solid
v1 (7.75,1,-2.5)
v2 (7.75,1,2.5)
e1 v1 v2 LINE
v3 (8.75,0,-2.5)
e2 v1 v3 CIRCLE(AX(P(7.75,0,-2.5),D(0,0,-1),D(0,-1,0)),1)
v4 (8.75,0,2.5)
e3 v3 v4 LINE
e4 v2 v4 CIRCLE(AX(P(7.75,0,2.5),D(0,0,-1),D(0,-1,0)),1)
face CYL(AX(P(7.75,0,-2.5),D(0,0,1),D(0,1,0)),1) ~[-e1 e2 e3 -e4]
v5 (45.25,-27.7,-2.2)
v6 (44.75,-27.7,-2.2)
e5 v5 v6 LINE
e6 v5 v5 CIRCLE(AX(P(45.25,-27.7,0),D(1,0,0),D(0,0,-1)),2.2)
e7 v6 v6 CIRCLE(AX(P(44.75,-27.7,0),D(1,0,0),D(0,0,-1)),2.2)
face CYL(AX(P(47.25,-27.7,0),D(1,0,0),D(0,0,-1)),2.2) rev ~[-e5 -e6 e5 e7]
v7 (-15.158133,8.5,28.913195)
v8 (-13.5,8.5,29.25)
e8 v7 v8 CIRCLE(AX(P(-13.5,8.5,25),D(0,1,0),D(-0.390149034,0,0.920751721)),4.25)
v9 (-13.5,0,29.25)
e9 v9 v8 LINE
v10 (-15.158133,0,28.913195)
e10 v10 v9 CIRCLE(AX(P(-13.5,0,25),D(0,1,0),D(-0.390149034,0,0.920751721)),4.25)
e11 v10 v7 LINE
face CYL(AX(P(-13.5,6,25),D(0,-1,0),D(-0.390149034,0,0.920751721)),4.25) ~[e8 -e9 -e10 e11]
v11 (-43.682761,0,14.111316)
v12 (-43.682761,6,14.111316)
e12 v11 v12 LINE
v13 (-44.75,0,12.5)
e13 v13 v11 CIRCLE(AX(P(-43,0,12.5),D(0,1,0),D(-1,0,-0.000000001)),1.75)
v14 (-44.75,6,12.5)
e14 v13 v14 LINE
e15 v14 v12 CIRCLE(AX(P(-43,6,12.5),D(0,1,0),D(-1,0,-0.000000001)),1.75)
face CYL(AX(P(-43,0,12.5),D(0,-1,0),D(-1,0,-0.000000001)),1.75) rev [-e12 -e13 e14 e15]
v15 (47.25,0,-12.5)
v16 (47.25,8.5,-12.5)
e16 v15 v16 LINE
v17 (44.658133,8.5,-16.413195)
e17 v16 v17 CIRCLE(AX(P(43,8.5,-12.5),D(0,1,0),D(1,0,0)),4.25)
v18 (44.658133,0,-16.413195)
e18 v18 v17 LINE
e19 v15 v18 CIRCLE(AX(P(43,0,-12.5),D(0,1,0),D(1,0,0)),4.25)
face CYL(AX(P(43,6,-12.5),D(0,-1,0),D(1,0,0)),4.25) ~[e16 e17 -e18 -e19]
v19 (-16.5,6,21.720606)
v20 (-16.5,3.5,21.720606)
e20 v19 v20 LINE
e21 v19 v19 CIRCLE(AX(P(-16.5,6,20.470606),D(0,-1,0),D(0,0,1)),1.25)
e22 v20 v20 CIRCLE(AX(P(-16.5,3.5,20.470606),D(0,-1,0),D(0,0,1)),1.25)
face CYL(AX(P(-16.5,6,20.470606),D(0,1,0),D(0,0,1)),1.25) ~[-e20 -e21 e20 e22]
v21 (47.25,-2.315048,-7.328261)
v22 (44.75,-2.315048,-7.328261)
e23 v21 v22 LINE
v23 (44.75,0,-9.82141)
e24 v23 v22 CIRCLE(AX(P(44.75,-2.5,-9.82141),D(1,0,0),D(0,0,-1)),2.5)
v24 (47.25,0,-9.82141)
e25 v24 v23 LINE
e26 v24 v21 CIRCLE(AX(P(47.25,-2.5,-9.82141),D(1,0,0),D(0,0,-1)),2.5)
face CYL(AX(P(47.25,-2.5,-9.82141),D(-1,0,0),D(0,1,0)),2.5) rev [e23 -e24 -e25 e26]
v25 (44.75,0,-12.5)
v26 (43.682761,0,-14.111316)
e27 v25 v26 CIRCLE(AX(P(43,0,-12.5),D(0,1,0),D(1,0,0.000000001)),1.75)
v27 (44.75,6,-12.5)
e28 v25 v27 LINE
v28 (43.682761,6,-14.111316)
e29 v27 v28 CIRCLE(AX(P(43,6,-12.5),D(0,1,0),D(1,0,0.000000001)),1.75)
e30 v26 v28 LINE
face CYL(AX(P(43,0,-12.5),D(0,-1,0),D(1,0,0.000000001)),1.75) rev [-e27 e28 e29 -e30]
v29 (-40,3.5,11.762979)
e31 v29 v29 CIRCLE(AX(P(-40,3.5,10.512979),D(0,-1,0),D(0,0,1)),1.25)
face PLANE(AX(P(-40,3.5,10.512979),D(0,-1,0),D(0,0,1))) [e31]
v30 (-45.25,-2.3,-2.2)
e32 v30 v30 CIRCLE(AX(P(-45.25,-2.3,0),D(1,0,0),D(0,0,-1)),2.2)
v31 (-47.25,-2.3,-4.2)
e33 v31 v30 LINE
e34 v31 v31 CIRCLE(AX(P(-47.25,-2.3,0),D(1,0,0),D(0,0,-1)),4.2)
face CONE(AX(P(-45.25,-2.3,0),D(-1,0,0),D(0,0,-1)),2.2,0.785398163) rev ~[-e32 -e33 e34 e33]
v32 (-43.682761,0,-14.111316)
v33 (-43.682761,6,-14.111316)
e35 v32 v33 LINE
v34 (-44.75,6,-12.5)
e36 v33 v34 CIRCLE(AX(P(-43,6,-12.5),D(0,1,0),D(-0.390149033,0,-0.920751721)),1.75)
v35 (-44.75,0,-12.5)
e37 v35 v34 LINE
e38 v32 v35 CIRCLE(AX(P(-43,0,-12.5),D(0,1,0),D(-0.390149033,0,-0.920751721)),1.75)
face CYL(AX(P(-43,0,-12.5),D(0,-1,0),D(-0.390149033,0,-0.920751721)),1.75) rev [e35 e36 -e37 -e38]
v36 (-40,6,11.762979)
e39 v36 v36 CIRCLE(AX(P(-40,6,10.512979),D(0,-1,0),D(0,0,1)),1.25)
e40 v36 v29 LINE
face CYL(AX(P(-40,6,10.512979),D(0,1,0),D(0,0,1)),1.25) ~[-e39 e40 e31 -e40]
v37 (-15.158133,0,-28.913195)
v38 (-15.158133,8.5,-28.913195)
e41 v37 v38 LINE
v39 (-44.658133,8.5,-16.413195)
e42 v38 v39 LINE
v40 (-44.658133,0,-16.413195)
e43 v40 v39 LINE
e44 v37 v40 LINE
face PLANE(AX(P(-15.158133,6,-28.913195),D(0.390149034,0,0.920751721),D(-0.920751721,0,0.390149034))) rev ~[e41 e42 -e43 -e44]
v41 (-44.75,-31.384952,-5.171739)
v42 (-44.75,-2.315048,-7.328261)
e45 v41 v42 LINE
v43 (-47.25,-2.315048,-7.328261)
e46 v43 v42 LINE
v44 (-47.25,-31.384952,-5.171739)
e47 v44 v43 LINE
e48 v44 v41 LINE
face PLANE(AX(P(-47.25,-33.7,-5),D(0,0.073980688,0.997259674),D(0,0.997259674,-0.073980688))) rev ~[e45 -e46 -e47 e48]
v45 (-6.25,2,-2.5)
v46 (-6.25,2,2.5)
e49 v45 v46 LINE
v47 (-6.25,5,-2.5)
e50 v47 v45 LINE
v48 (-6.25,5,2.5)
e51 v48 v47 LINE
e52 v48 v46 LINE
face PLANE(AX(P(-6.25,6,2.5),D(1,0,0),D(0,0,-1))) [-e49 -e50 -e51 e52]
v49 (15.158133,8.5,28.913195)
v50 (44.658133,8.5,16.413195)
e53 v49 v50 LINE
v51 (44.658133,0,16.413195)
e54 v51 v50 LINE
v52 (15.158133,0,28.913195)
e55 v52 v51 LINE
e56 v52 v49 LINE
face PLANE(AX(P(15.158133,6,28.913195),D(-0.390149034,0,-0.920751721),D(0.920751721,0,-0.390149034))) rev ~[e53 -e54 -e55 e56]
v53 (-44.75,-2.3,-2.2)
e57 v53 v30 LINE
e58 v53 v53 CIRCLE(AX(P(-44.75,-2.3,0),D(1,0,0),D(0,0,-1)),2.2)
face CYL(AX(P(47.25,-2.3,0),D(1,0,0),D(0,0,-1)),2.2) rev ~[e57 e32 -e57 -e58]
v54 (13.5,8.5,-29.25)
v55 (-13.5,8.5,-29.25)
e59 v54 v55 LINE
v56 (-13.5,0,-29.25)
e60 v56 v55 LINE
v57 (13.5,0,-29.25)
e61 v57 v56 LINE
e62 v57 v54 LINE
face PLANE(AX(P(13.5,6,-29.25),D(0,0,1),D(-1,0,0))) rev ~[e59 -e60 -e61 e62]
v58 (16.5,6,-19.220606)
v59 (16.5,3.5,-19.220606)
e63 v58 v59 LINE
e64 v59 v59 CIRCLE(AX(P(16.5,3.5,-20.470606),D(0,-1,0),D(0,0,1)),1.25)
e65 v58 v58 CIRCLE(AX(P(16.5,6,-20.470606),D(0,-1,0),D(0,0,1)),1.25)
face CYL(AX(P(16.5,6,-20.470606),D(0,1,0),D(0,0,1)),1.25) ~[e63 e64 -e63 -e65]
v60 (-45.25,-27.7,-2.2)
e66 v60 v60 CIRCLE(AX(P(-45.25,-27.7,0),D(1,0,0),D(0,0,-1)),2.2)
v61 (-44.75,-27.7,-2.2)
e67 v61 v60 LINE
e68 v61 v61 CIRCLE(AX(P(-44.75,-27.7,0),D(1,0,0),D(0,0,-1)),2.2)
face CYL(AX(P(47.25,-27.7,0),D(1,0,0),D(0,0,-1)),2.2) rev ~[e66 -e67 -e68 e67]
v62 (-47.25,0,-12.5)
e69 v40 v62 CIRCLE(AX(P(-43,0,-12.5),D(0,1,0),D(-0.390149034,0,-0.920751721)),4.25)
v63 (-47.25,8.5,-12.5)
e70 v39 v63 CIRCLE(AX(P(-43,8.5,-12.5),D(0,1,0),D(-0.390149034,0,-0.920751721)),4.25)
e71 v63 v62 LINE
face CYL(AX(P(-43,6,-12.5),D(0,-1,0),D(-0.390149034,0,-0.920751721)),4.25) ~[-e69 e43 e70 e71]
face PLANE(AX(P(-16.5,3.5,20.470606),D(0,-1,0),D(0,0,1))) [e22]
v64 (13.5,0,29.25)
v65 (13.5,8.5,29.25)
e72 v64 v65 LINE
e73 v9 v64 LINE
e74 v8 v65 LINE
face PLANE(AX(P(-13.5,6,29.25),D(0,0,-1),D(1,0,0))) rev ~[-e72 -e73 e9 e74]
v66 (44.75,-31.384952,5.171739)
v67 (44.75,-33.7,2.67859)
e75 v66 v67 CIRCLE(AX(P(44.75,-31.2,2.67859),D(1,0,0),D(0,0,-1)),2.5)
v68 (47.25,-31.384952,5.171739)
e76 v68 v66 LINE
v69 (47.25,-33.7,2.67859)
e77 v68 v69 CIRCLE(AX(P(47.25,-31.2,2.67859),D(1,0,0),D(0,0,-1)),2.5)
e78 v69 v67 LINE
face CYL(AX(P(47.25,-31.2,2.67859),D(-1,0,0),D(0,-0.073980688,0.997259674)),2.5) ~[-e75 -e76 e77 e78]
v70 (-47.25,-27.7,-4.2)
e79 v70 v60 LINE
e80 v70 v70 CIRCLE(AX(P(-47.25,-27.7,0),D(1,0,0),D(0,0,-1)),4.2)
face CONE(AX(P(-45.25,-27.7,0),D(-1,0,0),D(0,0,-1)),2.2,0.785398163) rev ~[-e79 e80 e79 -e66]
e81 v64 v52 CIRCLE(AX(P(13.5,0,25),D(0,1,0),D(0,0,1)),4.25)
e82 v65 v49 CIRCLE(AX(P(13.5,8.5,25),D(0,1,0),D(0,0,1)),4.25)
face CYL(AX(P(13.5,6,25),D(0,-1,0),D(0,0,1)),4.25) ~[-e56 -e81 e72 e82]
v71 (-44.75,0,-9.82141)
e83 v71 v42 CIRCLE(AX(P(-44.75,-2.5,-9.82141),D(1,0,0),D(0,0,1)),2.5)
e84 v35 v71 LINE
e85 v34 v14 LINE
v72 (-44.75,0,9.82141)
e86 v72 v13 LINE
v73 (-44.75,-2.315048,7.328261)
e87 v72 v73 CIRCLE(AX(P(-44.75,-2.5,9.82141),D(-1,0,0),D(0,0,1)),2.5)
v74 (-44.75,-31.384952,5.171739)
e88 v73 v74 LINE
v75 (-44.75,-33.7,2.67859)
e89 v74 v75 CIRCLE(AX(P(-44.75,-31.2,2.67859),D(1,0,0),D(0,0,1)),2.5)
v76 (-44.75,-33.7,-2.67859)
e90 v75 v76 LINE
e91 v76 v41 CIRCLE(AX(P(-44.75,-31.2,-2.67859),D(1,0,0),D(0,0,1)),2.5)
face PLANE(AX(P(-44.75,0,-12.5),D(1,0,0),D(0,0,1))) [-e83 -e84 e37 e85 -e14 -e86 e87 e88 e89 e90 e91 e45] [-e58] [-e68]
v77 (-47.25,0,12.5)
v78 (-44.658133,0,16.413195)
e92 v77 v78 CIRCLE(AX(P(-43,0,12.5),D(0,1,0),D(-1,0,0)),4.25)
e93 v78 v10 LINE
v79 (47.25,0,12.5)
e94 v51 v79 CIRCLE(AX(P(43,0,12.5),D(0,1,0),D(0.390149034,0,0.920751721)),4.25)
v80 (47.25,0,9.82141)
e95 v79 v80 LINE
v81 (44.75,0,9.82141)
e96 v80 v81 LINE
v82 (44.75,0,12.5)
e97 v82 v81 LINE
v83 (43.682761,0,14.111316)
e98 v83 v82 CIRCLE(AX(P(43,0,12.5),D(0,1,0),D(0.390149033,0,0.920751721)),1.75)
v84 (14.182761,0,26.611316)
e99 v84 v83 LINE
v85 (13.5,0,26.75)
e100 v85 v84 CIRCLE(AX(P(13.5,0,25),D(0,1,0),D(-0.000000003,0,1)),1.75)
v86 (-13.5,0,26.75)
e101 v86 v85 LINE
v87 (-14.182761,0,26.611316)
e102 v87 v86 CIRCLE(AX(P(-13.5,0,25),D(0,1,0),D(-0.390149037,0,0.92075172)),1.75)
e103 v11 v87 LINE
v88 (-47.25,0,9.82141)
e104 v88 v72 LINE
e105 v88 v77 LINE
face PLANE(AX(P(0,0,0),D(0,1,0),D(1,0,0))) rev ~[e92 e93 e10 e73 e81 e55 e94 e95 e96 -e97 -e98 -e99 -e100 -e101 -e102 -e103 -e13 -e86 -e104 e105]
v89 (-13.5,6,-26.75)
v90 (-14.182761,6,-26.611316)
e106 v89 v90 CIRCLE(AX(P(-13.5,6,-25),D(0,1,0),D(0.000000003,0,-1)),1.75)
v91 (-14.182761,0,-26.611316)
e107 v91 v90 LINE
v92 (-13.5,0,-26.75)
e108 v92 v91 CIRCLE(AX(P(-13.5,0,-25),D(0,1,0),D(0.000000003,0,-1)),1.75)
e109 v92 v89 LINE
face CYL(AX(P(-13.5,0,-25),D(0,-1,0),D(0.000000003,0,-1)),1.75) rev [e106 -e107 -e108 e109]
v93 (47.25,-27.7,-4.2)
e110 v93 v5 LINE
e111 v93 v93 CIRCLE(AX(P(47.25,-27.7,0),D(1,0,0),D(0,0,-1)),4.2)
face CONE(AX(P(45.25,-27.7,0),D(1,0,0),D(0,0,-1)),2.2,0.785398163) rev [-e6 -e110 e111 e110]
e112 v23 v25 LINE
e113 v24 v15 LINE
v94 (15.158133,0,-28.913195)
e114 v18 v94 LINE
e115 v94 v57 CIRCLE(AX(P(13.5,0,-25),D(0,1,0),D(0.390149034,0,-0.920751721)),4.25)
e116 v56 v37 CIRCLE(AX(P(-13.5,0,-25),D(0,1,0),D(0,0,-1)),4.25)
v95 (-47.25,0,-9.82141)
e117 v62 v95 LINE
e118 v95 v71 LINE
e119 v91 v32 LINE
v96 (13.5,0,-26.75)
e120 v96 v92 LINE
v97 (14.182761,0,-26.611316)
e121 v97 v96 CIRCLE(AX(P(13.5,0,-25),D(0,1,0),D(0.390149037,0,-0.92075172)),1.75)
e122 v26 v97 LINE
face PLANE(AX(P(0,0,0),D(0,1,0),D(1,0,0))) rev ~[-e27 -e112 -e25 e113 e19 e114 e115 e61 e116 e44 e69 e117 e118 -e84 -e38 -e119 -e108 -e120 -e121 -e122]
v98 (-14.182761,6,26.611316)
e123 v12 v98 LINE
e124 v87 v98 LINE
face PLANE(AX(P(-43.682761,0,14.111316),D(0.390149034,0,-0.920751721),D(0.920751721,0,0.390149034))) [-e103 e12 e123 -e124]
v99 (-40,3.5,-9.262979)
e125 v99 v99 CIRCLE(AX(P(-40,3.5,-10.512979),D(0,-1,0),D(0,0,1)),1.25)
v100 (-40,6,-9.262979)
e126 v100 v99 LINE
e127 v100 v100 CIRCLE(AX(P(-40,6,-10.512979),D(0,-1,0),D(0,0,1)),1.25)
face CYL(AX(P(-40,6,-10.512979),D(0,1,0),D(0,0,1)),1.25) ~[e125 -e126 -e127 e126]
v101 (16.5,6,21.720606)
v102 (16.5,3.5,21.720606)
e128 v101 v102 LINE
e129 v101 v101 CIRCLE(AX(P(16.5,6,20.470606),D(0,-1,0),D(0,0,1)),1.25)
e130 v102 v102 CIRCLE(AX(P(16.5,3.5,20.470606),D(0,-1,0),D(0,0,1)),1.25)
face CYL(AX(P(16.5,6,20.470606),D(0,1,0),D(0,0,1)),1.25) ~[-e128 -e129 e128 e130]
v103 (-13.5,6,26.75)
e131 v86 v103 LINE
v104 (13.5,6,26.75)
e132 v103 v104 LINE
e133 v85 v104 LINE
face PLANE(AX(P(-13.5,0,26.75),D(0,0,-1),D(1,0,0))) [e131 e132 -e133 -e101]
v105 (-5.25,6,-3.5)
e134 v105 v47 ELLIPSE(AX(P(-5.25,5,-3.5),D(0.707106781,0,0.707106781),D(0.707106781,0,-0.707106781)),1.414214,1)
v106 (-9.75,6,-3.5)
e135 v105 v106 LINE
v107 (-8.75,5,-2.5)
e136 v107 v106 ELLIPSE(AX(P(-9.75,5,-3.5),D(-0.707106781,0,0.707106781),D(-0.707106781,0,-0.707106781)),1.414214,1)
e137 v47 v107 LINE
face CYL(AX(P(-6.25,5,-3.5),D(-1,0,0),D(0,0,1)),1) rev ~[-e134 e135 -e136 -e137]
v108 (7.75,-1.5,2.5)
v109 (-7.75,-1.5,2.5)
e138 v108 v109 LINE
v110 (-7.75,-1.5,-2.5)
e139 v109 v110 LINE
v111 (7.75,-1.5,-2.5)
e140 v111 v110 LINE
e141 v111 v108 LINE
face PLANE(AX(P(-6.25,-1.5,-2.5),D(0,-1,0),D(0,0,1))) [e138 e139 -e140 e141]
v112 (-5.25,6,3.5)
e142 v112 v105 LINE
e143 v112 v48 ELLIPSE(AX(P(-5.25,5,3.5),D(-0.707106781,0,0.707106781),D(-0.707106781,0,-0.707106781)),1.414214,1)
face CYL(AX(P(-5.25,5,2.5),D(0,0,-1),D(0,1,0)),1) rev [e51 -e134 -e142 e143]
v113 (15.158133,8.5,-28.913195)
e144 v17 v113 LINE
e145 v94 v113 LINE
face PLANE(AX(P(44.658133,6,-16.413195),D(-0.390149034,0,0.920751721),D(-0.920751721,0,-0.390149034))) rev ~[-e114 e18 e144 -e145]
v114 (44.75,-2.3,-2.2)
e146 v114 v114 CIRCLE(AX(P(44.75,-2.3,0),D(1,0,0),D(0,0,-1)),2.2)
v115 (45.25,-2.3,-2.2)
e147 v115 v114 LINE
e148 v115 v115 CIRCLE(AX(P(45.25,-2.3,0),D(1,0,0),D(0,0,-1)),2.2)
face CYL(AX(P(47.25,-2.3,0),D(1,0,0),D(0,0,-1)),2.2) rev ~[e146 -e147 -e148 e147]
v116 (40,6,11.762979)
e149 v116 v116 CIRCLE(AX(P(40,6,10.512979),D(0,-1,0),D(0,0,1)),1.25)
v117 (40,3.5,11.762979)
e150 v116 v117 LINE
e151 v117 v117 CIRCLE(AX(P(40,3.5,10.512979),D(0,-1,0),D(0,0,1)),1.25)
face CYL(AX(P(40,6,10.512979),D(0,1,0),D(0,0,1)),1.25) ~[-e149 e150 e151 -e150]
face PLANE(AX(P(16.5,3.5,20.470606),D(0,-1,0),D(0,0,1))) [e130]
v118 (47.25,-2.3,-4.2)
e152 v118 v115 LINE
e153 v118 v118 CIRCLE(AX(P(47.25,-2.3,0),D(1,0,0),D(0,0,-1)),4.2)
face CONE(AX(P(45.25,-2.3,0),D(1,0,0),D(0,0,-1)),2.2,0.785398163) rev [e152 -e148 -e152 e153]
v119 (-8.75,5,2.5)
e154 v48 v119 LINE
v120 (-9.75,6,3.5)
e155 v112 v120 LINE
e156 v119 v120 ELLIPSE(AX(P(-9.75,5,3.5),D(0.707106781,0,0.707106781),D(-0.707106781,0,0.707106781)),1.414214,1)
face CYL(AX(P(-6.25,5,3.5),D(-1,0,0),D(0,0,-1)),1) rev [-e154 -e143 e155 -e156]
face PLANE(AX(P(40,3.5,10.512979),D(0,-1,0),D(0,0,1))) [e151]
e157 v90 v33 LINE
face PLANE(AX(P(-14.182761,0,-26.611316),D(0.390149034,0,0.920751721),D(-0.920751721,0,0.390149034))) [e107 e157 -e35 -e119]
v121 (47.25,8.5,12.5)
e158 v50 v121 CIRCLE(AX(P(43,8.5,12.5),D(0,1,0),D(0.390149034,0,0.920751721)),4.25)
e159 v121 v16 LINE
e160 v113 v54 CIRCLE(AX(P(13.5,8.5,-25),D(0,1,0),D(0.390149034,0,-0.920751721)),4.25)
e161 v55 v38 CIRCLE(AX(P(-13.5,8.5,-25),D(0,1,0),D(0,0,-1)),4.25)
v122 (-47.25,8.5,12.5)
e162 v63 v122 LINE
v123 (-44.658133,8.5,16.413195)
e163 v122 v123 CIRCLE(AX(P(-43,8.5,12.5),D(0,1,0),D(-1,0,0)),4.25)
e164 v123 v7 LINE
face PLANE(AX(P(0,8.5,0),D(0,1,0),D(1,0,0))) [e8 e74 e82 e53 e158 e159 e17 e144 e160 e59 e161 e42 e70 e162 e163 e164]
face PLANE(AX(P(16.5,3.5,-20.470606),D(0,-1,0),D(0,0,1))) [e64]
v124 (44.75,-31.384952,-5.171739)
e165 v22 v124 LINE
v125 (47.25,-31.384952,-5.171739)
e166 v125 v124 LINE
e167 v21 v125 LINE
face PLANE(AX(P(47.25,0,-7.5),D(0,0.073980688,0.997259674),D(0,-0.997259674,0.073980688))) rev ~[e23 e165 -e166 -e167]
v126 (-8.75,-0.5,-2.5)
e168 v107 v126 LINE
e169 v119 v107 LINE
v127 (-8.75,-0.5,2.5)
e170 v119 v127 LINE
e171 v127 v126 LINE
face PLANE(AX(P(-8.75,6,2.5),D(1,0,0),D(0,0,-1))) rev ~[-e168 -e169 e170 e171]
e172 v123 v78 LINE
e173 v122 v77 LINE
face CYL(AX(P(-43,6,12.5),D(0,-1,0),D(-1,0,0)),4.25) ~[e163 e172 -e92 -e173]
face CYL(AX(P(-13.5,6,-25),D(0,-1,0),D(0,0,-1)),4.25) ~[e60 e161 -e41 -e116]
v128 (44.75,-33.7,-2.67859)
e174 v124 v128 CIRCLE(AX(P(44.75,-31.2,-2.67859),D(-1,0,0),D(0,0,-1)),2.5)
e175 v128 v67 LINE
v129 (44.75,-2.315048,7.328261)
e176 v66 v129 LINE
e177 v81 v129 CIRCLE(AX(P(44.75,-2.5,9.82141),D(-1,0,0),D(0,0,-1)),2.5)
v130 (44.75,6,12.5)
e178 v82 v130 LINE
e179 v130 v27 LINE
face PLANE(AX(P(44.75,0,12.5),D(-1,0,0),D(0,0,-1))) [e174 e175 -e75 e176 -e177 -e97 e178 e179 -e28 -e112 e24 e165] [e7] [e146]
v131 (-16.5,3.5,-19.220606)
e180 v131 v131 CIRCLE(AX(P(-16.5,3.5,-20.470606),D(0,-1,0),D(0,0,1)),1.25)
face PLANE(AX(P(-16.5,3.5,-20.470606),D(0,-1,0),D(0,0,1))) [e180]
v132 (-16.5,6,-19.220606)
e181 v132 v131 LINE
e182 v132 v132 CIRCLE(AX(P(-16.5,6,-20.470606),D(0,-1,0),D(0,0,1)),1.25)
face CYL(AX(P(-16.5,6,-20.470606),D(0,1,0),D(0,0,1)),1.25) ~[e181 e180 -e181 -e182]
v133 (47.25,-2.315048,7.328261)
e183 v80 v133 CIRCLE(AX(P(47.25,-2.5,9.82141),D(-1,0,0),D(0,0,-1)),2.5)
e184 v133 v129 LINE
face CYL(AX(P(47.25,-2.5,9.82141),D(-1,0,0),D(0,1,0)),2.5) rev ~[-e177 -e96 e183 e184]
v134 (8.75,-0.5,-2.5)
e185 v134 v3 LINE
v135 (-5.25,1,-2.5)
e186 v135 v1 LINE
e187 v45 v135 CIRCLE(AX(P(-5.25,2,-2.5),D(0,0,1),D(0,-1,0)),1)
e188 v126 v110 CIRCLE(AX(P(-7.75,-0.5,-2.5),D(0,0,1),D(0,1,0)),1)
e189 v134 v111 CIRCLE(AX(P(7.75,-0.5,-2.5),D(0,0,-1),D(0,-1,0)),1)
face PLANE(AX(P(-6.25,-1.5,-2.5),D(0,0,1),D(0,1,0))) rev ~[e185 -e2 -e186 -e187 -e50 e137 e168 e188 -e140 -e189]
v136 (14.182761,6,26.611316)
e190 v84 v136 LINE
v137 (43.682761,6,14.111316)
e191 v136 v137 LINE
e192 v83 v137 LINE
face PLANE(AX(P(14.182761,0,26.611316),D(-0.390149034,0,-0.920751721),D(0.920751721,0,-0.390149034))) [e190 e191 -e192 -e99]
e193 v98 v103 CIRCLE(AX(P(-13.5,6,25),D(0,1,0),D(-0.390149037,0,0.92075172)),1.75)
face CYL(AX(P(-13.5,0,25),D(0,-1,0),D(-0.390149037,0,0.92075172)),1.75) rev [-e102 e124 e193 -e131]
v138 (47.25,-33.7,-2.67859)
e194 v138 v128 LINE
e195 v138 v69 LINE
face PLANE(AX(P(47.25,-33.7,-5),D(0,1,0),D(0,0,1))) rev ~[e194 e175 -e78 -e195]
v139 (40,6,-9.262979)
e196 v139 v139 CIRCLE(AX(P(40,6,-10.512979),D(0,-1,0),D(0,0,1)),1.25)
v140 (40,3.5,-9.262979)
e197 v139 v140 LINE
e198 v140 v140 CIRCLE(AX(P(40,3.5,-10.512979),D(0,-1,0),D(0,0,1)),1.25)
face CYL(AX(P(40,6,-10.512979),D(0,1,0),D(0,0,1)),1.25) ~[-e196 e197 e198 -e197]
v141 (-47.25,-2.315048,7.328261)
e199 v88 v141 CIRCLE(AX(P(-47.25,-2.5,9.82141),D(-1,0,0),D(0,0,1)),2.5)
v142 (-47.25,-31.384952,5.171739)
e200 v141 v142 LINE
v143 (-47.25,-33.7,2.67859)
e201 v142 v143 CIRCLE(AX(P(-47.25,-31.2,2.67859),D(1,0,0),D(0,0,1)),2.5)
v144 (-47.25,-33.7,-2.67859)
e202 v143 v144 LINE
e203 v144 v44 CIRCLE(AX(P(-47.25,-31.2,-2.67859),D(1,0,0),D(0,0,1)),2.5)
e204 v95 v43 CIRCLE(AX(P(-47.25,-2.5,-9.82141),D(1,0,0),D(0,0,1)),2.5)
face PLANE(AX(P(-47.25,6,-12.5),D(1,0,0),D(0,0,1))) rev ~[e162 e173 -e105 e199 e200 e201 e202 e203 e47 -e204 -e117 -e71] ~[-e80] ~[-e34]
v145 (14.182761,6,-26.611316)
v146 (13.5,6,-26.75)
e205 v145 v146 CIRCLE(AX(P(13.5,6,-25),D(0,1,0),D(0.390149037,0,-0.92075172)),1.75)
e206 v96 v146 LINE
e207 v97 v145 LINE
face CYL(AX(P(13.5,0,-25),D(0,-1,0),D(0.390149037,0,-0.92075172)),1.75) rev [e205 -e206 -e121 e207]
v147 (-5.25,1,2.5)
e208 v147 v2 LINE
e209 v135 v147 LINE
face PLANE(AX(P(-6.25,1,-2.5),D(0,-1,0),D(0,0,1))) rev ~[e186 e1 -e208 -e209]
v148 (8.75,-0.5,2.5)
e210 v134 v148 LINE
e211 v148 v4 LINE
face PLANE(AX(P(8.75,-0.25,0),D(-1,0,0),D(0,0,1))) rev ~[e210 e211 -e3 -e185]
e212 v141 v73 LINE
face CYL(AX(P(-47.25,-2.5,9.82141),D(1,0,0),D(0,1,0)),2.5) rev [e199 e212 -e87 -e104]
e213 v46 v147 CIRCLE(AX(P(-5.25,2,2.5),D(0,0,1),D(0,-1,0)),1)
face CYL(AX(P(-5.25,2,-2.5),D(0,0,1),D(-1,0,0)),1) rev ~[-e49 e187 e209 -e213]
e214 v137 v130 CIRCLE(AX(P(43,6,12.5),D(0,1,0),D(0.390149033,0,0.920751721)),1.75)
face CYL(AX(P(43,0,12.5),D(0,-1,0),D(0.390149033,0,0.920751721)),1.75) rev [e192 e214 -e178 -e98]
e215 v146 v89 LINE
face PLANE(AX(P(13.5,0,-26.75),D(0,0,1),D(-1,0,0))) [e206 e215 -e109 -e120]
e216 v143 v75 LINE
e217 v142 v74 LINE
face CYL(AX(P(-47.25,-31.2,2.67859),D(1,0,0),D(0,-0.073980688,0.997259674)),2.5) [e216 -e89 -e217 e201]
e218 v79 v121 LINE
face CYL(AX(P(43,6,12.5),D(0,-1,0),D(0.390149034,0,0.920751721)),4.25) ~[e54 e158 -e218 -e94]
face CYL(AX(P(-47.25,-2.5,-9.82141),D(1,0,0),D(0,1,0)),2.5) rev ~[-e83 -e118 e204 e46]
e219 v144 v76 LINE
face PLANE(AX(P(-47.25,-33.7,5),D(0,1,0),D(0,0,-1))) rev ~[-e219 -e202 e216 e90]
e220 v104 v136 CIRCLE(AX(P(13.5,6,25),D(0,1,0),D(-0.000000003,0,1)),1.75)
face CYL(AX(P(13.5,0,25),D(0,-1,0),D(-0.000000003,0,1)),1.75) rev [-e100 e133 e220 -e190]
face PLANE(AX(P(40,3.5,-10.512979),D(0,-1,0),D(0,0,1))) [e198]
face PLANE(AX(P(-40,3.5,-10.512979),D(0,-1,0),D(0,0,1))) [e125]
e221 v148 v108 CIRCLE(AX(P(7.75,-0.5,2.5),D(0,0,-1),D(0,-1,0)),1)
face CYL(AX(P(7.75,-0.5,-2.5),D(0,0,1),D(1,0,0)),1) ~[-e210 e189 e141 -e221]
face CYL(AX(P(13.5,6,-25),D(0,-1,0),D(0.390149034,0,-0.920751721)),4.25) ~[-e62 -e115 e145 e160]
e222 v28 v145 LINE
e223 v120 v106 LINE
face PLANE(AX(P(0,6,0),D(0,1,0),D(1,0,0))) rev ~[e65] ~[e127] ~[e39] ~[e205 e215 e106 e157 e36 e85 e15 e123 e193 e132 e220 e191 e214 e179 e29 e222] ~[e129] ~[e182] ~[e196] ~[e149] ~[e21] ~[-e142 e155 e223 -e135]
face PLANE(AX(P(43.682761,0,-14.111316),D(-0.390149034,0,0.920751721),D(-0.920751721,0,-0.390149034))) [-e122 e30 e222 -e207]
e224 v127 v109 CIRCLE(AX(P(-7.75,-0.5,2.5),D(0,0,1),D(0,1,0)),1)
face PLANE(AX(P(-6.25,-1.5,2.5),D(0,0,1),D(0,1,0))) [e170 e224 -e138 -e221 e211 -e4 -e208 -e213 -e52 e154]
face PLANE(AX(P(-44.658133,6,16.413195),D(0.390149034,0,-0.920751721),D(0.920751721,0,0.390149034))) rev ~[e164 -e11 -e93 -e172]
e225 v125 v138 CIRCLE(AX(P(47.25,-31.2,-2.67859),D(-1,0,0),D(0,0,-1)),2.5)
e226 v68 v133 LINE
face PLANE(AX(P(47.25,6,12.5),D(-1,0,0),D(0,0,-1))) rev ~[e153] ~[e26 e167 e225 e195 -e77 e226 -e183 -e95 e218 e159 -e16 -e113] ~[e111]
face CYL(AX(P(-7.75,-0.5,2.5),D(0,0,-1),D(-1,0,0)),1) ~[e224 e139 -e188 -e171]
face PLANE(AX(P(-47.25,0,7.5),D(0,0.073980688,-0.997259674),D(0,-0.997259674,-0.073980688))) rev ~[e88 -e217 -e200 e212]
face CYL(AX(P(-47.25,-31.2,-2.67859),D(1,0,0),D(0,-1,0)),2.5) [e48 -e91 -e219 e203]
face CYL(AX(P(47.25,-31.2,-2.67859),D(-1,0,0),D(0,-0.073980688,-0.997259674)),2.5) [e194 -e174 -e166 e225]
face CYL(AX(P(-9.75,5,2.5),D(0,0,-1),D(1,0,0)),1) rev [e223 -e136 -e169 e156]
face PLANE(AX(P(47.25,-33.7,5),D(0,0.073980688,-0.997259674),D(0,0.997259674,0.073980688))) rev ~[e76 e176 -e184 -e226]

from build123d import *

# Parameters (mm, degrees)
BOSS_EXTRUDE1_DEPTH = 6
BOSS_EXTRUDE2_DEPTH = 2.5
BOSS_EXTRUDE4_DEPTH = 2.5
BOSS_EXTRUDE5_DEPTH = 2.5
FILLET1_R           = 2.5
SKETCH6_R           = 2.2
CUT_EXTRUDE1_DEPTH  = 105.505992651
CHAMFER1_SIZE       = 2
SKETCH8_R           = 1.25
BOSS_EXTRUDE6_DEPTH = 2.5
SKETCH10_W          = 2.5
SKETCH10_H          = 5
BOSS_EXTRUDE8_DEPTH = 7.5
SKETCH11_W          = 5
SKETCH11_H          = 2.5
BOSS_EXTRUDE9_DEPTH = 15
FILLET2_R           = 1


with BuildPart() as part:
    # Sketch1 → Boss-Extrude1 (new body)
    with BuildSketch(Plane(origin=(0, 0, 0), x_dir=(1, 0, 0), z_dir=(0, 1, 0))):
        with BuildLine():
            Line((44.658133395, 16.413194813), (15.158133395, 28.913194813))
            ThreePointArc((15.158133395, 28.913194813), (14.345997058, 29.164947656), (13.5, 29.25))
            Line((13.5, 29.25), (-13.5, 29.25))
            ThreePointArc((-13.5, 29.25), (-14.345997058, 29.164947656), (-15.158133395, 28.913194813))
            Line((-15.158133395, 28.913194813), (-44.658133395, 16.413194813))
            ThreePointArc((-44.658133395, 16.413194813), (-46.543272988, 14.846852474), (-47.25, 12.5))
            Line((-47.25, 12.5), (-47.25, -12.5))
            ThreePointArc((-47.25, -12.5), (-46.543272988, -14.846852474), (-44.658133395, -16.413194813))
            Line((-44.658133395, -16.413194813), (-15.158133395, -28.913194813))
            ThreePointArc((-15.158133395, -28.913194813), (-14.345997058, -29.164947656), (-13.5, -29.25))
            Line((-13.5, -29.25), (13.5, -29.25))
            ThreePointArc((13.5, -29.25), (14.345997058, -29.164947656), (15.158133395, -28.913194813))
            Line((15.158133395, -28.913194813), (44.658133395, -16.413194813))
            ThreePointArc((44.658133395, -16.413194813), (46.543272988, -14.846852474), (47.25, -12.5))
            Line((47.25, -12.5), (47.25, 12.5))
            ThreePointArc((47.25, 12.5), (46.543272988, 14.846852474), (44.658133395, 16.413194813))
        make_face()
        with BuildLine():
            Line((43.68276081, 14.111315511), (14.18276081, 26.611315511))
            ThreePointArc((14.18276081, 26.611315511), (13.84835173, 26.714978447), (13.5, 26.75))
            Line((13.5, 26.75), (-13.5, 26.75))
            ThreePointArc((-13.5, 26.75), (-13.84835173, 26.714978447), (-14.18276081, 26.611315511))
            Line((-14.18276081, 26.611315511), (-43.68276081, 14.111315511))
            ThreePointArc((-43.68276081, 14.111315511), (-44.45899476, 13.466351019), (-44.75, 12.5))
            Line((-44.75, 12.5), (-44.75, -12.5))
            ThreePointArc((-44.75, -12.5), (-44.45899476, -13.466351019), (-43.68276081, -14.111315511))
            Line((-43.68276081, -14.111315511), (-14.18276081, -26.611315511))
            ThreePointArc((-14.18276081, -26.611315511), (-13.84835173, -26.714978447), (-13.5, -26.75))
            Line((-13.5, -26.75), (13.5, -26.75))
            ThreePointArc((13.5, -26.75), (13.84835173, -26.714978447), (14.18276081, -26.611315511))
            Line((14.18276081, -26.611315511), (43.68276081, -14.111315511))
            ThreePointArc((43.68276081, -14.111315511), (44.45899476, -13.466351019), (44.75, -12.5))
            Line((44.75, -12.5), (44.75, 12.5))
            ThreePointArc((44.75, 12.5), (44.45899476, 13.466351019), (43.68276081, 14.111315511))
        make_face(mode=Mode.SUBTRACT)
    extrude(amount=BOSS_EXTRUDE1_DEPTH)

    # Sketch2 → Boss-Extrude2 (add)
    with BuildSketch(Plane(origin=(0, 6, 0), x_dir=(1, 0, 0), z_dir=(0, 1, 0))):
        with BuildLine():
            Line((-44.658133395, -16.413194813), (-15.158133395, -28.913194813))
            ThreePointArc((-15.158133395, -28.913194813), (-14.345997058, -29.164947656), (-13.5, -29.25))
            Line((-13.5, -29.25), (13.5, -29.25))
            ThreePointArc((13.5, -29.25), (14.345997058, -29.164947656), (15.158133395, -28.913194813))
            Line((15.158133395, -28.913194813), (44.658133395, -16.413194813))
            ThreePointArc((44.658133395, -16.413194813), (46.543272988, -14.846852474), (47.25, -12.5))
            Line((47.25, -12.5), (47.25, 12.5))
            ThreePointArc((47.25, 12.5), (46.543272988, 14.846852474), (44.658133395, 16.413194813))
            Line((44.658133395, 16.413194813), (15.158133395, 28.913194813))
            ThreePointArc((15.158133395, 28.913194813), (14.345997058, 29.164947656), (13.5, 29.25))
            Line((13.5, 29.25), (-13.5, 29.25))
            ThreePointArc((-13.5, 29.25), (-14.345997058, 29.164947656), (-15.158133395, 28.913194813))
            Line((-15.158133395, 28.913194813), (-44.658133395, 16.413194813))
            ThreePointArc((-44.658133395, 16.413194813), (-46.543272988, 14.846852474), (-47.25, 12.5))
            Line((-47.25, 12.5), (-47.25, -12.5))
            ThreePointArc((-47.25, -12.5), (-46.543272988, -14.846852474), (-44.658133395, -16.413194813))
        make_face()
    extrude(amount=BOSS_EXTRUDE2_DEPTH)

    # Sketch4 → Boss-Extrude4 (add)
    with BuildSketch(Plane(origin=(47.25, 0, 0), x_dir=(0, 0, -1), z_dir=(1, 0, 0))):
        Polygon((-7.5, 0), (7.5, 0), (5, -33.7), (-5, -33.7), align=None)
    extrude(amount=-BOSS_EXTRUDE4_DEPTH)

    # Sketch5 → Boss-Extrude5 (add)
    with BuildSketch(Plane.ZY.offset(47.25)):
        Polygon((7.5, 0), (5, -33.7), (-5, -33.7), (-7.5, 0), align=None)
    extrude(amount=-BOSS_EXTRUDE5_DEPTH)

    # Fillet1
    fillet1_edges = [part.edges().sort_by_distance(p)[0] for p in [
        (46, -33.7, -5),
        (46, 0, -7.5),
        (46, 0, 7.5),
        (46, -33.7, 5),
        (-46, -33.7, -5),
        (-46, -33.7, 5),
        (-46, 0, 7.5),
        (-46, 0, -7.5),
    ]]
    fillet(fillet1_edges, radius=FILLET1_R)

    # Sketch6 → Cut-Extrude1 (cut, through all)
    with BuildSketch(Plane(origin=(47.25, 0, 0), x_dir=(0, 0, -1), z_dir=(1, 0, 0))):
        with Locations((0, -2.3)):
            Circle(SKETCH6_R)
        with Locations((0, -27.7)):
            Circle(SKETCH6_R)
    extrude(amount=-CUT_EXTRUDE1_DEPTH, mode=Mode.SUBTRACT)

    # Chamfer1
    chamfer1_edges = [part.edges().sort_by_distance(p)[0] for p in [
        (-47.25, -2.3, 2.2),
        (47.25, -2.3, 2.2),
        (-47.25, -27.7, 2.2),
        (47.25, -27.7, 2.2),
    ]]
    chamfer(chamfer1_edges, length=CHAMFER1_SIZE)

    # Sketch8 → Boss-Extrude6 (add)
    with BuildSketch(Plane(origin=(0, 6, 0), x_dir=(-1, 0, 0), z_dir=(0, -1, 0))):
        with Locations(Location((40, 10.512979117, 0), (0, 0, 270))):
            Circle(SKETCH8_R)
        with Locations(Location((16.5, 20.470606235, 0), (0, 0, 270))):
            Circle(SKETCH8_R)
        with Locations(Location((-16.5, -20.470606235, 0), (0, 0, 270))):
            Circle(SKETCH8_R)
        with Locations(Location((-40, -10.512979117, 0), (0, 0, 270))):
            Circle(SKETCH8_R)
        with Locations(Location((-40, 10.512979117, 0), (0, 0, 270))):
            Circle(SKETCH8_R)
        with Locations(Location((-16.5, 20.470606235, 0), (0, 0, 270))):
            Circle(SKETCH8_R)
        with Locations(Location((40, -10.512979117, 0), (0, 0, 270))):
            Circle(SKETCH8_R)
        with Locations(Location((16.5, -20.470606235, 0), (0, 0, 270))):
            Circle(SKETCH8_R)
    extrude(amount=BOSS_EXTRUDE6_DEPTH)

    # Sketch10 → Boss-Extrude8 (add)
    with BuildSketch(Plane(origin=(0, 6, 0), x_dir=(-1, 0, 0), z_dir=(0, -1, 0))):
        with Locations((7.5, 0)):
            Rectangle(SKETCH10_W, SKETCH10_H)
    extrude(amount=BOSS_EXTRUDE8_DEPTH)

    # Sketch11 → Boss-Extrude9 (add)
    with BuildSketch(Plane.ZY.offset(6.25)):
        with Locations((0, -0.25)):
            Rectangle(SKETCH11_W, SKETCH11_H)
    extrude(amount=-BOSS_EXTRUDE9_DEPTH)

    # Fillet2
    fillet2_edges = [part.edges().sort_by_distance(p)[0] for p in [
        (-6.25, 6, 0),
        (-7.5, 6, 2.5),
        (-8.75, 6, 0),
        (-7.5, 6, -2.5),
        (-8.75, -1.5, 0),
        (8.75, -1.5, 0),
        (8.75, 1, 0),
        (-6.25, 1, 0),
    ]]
    fillet(fillet2_edges, radius=FILLET2_R)


solid = part.part
